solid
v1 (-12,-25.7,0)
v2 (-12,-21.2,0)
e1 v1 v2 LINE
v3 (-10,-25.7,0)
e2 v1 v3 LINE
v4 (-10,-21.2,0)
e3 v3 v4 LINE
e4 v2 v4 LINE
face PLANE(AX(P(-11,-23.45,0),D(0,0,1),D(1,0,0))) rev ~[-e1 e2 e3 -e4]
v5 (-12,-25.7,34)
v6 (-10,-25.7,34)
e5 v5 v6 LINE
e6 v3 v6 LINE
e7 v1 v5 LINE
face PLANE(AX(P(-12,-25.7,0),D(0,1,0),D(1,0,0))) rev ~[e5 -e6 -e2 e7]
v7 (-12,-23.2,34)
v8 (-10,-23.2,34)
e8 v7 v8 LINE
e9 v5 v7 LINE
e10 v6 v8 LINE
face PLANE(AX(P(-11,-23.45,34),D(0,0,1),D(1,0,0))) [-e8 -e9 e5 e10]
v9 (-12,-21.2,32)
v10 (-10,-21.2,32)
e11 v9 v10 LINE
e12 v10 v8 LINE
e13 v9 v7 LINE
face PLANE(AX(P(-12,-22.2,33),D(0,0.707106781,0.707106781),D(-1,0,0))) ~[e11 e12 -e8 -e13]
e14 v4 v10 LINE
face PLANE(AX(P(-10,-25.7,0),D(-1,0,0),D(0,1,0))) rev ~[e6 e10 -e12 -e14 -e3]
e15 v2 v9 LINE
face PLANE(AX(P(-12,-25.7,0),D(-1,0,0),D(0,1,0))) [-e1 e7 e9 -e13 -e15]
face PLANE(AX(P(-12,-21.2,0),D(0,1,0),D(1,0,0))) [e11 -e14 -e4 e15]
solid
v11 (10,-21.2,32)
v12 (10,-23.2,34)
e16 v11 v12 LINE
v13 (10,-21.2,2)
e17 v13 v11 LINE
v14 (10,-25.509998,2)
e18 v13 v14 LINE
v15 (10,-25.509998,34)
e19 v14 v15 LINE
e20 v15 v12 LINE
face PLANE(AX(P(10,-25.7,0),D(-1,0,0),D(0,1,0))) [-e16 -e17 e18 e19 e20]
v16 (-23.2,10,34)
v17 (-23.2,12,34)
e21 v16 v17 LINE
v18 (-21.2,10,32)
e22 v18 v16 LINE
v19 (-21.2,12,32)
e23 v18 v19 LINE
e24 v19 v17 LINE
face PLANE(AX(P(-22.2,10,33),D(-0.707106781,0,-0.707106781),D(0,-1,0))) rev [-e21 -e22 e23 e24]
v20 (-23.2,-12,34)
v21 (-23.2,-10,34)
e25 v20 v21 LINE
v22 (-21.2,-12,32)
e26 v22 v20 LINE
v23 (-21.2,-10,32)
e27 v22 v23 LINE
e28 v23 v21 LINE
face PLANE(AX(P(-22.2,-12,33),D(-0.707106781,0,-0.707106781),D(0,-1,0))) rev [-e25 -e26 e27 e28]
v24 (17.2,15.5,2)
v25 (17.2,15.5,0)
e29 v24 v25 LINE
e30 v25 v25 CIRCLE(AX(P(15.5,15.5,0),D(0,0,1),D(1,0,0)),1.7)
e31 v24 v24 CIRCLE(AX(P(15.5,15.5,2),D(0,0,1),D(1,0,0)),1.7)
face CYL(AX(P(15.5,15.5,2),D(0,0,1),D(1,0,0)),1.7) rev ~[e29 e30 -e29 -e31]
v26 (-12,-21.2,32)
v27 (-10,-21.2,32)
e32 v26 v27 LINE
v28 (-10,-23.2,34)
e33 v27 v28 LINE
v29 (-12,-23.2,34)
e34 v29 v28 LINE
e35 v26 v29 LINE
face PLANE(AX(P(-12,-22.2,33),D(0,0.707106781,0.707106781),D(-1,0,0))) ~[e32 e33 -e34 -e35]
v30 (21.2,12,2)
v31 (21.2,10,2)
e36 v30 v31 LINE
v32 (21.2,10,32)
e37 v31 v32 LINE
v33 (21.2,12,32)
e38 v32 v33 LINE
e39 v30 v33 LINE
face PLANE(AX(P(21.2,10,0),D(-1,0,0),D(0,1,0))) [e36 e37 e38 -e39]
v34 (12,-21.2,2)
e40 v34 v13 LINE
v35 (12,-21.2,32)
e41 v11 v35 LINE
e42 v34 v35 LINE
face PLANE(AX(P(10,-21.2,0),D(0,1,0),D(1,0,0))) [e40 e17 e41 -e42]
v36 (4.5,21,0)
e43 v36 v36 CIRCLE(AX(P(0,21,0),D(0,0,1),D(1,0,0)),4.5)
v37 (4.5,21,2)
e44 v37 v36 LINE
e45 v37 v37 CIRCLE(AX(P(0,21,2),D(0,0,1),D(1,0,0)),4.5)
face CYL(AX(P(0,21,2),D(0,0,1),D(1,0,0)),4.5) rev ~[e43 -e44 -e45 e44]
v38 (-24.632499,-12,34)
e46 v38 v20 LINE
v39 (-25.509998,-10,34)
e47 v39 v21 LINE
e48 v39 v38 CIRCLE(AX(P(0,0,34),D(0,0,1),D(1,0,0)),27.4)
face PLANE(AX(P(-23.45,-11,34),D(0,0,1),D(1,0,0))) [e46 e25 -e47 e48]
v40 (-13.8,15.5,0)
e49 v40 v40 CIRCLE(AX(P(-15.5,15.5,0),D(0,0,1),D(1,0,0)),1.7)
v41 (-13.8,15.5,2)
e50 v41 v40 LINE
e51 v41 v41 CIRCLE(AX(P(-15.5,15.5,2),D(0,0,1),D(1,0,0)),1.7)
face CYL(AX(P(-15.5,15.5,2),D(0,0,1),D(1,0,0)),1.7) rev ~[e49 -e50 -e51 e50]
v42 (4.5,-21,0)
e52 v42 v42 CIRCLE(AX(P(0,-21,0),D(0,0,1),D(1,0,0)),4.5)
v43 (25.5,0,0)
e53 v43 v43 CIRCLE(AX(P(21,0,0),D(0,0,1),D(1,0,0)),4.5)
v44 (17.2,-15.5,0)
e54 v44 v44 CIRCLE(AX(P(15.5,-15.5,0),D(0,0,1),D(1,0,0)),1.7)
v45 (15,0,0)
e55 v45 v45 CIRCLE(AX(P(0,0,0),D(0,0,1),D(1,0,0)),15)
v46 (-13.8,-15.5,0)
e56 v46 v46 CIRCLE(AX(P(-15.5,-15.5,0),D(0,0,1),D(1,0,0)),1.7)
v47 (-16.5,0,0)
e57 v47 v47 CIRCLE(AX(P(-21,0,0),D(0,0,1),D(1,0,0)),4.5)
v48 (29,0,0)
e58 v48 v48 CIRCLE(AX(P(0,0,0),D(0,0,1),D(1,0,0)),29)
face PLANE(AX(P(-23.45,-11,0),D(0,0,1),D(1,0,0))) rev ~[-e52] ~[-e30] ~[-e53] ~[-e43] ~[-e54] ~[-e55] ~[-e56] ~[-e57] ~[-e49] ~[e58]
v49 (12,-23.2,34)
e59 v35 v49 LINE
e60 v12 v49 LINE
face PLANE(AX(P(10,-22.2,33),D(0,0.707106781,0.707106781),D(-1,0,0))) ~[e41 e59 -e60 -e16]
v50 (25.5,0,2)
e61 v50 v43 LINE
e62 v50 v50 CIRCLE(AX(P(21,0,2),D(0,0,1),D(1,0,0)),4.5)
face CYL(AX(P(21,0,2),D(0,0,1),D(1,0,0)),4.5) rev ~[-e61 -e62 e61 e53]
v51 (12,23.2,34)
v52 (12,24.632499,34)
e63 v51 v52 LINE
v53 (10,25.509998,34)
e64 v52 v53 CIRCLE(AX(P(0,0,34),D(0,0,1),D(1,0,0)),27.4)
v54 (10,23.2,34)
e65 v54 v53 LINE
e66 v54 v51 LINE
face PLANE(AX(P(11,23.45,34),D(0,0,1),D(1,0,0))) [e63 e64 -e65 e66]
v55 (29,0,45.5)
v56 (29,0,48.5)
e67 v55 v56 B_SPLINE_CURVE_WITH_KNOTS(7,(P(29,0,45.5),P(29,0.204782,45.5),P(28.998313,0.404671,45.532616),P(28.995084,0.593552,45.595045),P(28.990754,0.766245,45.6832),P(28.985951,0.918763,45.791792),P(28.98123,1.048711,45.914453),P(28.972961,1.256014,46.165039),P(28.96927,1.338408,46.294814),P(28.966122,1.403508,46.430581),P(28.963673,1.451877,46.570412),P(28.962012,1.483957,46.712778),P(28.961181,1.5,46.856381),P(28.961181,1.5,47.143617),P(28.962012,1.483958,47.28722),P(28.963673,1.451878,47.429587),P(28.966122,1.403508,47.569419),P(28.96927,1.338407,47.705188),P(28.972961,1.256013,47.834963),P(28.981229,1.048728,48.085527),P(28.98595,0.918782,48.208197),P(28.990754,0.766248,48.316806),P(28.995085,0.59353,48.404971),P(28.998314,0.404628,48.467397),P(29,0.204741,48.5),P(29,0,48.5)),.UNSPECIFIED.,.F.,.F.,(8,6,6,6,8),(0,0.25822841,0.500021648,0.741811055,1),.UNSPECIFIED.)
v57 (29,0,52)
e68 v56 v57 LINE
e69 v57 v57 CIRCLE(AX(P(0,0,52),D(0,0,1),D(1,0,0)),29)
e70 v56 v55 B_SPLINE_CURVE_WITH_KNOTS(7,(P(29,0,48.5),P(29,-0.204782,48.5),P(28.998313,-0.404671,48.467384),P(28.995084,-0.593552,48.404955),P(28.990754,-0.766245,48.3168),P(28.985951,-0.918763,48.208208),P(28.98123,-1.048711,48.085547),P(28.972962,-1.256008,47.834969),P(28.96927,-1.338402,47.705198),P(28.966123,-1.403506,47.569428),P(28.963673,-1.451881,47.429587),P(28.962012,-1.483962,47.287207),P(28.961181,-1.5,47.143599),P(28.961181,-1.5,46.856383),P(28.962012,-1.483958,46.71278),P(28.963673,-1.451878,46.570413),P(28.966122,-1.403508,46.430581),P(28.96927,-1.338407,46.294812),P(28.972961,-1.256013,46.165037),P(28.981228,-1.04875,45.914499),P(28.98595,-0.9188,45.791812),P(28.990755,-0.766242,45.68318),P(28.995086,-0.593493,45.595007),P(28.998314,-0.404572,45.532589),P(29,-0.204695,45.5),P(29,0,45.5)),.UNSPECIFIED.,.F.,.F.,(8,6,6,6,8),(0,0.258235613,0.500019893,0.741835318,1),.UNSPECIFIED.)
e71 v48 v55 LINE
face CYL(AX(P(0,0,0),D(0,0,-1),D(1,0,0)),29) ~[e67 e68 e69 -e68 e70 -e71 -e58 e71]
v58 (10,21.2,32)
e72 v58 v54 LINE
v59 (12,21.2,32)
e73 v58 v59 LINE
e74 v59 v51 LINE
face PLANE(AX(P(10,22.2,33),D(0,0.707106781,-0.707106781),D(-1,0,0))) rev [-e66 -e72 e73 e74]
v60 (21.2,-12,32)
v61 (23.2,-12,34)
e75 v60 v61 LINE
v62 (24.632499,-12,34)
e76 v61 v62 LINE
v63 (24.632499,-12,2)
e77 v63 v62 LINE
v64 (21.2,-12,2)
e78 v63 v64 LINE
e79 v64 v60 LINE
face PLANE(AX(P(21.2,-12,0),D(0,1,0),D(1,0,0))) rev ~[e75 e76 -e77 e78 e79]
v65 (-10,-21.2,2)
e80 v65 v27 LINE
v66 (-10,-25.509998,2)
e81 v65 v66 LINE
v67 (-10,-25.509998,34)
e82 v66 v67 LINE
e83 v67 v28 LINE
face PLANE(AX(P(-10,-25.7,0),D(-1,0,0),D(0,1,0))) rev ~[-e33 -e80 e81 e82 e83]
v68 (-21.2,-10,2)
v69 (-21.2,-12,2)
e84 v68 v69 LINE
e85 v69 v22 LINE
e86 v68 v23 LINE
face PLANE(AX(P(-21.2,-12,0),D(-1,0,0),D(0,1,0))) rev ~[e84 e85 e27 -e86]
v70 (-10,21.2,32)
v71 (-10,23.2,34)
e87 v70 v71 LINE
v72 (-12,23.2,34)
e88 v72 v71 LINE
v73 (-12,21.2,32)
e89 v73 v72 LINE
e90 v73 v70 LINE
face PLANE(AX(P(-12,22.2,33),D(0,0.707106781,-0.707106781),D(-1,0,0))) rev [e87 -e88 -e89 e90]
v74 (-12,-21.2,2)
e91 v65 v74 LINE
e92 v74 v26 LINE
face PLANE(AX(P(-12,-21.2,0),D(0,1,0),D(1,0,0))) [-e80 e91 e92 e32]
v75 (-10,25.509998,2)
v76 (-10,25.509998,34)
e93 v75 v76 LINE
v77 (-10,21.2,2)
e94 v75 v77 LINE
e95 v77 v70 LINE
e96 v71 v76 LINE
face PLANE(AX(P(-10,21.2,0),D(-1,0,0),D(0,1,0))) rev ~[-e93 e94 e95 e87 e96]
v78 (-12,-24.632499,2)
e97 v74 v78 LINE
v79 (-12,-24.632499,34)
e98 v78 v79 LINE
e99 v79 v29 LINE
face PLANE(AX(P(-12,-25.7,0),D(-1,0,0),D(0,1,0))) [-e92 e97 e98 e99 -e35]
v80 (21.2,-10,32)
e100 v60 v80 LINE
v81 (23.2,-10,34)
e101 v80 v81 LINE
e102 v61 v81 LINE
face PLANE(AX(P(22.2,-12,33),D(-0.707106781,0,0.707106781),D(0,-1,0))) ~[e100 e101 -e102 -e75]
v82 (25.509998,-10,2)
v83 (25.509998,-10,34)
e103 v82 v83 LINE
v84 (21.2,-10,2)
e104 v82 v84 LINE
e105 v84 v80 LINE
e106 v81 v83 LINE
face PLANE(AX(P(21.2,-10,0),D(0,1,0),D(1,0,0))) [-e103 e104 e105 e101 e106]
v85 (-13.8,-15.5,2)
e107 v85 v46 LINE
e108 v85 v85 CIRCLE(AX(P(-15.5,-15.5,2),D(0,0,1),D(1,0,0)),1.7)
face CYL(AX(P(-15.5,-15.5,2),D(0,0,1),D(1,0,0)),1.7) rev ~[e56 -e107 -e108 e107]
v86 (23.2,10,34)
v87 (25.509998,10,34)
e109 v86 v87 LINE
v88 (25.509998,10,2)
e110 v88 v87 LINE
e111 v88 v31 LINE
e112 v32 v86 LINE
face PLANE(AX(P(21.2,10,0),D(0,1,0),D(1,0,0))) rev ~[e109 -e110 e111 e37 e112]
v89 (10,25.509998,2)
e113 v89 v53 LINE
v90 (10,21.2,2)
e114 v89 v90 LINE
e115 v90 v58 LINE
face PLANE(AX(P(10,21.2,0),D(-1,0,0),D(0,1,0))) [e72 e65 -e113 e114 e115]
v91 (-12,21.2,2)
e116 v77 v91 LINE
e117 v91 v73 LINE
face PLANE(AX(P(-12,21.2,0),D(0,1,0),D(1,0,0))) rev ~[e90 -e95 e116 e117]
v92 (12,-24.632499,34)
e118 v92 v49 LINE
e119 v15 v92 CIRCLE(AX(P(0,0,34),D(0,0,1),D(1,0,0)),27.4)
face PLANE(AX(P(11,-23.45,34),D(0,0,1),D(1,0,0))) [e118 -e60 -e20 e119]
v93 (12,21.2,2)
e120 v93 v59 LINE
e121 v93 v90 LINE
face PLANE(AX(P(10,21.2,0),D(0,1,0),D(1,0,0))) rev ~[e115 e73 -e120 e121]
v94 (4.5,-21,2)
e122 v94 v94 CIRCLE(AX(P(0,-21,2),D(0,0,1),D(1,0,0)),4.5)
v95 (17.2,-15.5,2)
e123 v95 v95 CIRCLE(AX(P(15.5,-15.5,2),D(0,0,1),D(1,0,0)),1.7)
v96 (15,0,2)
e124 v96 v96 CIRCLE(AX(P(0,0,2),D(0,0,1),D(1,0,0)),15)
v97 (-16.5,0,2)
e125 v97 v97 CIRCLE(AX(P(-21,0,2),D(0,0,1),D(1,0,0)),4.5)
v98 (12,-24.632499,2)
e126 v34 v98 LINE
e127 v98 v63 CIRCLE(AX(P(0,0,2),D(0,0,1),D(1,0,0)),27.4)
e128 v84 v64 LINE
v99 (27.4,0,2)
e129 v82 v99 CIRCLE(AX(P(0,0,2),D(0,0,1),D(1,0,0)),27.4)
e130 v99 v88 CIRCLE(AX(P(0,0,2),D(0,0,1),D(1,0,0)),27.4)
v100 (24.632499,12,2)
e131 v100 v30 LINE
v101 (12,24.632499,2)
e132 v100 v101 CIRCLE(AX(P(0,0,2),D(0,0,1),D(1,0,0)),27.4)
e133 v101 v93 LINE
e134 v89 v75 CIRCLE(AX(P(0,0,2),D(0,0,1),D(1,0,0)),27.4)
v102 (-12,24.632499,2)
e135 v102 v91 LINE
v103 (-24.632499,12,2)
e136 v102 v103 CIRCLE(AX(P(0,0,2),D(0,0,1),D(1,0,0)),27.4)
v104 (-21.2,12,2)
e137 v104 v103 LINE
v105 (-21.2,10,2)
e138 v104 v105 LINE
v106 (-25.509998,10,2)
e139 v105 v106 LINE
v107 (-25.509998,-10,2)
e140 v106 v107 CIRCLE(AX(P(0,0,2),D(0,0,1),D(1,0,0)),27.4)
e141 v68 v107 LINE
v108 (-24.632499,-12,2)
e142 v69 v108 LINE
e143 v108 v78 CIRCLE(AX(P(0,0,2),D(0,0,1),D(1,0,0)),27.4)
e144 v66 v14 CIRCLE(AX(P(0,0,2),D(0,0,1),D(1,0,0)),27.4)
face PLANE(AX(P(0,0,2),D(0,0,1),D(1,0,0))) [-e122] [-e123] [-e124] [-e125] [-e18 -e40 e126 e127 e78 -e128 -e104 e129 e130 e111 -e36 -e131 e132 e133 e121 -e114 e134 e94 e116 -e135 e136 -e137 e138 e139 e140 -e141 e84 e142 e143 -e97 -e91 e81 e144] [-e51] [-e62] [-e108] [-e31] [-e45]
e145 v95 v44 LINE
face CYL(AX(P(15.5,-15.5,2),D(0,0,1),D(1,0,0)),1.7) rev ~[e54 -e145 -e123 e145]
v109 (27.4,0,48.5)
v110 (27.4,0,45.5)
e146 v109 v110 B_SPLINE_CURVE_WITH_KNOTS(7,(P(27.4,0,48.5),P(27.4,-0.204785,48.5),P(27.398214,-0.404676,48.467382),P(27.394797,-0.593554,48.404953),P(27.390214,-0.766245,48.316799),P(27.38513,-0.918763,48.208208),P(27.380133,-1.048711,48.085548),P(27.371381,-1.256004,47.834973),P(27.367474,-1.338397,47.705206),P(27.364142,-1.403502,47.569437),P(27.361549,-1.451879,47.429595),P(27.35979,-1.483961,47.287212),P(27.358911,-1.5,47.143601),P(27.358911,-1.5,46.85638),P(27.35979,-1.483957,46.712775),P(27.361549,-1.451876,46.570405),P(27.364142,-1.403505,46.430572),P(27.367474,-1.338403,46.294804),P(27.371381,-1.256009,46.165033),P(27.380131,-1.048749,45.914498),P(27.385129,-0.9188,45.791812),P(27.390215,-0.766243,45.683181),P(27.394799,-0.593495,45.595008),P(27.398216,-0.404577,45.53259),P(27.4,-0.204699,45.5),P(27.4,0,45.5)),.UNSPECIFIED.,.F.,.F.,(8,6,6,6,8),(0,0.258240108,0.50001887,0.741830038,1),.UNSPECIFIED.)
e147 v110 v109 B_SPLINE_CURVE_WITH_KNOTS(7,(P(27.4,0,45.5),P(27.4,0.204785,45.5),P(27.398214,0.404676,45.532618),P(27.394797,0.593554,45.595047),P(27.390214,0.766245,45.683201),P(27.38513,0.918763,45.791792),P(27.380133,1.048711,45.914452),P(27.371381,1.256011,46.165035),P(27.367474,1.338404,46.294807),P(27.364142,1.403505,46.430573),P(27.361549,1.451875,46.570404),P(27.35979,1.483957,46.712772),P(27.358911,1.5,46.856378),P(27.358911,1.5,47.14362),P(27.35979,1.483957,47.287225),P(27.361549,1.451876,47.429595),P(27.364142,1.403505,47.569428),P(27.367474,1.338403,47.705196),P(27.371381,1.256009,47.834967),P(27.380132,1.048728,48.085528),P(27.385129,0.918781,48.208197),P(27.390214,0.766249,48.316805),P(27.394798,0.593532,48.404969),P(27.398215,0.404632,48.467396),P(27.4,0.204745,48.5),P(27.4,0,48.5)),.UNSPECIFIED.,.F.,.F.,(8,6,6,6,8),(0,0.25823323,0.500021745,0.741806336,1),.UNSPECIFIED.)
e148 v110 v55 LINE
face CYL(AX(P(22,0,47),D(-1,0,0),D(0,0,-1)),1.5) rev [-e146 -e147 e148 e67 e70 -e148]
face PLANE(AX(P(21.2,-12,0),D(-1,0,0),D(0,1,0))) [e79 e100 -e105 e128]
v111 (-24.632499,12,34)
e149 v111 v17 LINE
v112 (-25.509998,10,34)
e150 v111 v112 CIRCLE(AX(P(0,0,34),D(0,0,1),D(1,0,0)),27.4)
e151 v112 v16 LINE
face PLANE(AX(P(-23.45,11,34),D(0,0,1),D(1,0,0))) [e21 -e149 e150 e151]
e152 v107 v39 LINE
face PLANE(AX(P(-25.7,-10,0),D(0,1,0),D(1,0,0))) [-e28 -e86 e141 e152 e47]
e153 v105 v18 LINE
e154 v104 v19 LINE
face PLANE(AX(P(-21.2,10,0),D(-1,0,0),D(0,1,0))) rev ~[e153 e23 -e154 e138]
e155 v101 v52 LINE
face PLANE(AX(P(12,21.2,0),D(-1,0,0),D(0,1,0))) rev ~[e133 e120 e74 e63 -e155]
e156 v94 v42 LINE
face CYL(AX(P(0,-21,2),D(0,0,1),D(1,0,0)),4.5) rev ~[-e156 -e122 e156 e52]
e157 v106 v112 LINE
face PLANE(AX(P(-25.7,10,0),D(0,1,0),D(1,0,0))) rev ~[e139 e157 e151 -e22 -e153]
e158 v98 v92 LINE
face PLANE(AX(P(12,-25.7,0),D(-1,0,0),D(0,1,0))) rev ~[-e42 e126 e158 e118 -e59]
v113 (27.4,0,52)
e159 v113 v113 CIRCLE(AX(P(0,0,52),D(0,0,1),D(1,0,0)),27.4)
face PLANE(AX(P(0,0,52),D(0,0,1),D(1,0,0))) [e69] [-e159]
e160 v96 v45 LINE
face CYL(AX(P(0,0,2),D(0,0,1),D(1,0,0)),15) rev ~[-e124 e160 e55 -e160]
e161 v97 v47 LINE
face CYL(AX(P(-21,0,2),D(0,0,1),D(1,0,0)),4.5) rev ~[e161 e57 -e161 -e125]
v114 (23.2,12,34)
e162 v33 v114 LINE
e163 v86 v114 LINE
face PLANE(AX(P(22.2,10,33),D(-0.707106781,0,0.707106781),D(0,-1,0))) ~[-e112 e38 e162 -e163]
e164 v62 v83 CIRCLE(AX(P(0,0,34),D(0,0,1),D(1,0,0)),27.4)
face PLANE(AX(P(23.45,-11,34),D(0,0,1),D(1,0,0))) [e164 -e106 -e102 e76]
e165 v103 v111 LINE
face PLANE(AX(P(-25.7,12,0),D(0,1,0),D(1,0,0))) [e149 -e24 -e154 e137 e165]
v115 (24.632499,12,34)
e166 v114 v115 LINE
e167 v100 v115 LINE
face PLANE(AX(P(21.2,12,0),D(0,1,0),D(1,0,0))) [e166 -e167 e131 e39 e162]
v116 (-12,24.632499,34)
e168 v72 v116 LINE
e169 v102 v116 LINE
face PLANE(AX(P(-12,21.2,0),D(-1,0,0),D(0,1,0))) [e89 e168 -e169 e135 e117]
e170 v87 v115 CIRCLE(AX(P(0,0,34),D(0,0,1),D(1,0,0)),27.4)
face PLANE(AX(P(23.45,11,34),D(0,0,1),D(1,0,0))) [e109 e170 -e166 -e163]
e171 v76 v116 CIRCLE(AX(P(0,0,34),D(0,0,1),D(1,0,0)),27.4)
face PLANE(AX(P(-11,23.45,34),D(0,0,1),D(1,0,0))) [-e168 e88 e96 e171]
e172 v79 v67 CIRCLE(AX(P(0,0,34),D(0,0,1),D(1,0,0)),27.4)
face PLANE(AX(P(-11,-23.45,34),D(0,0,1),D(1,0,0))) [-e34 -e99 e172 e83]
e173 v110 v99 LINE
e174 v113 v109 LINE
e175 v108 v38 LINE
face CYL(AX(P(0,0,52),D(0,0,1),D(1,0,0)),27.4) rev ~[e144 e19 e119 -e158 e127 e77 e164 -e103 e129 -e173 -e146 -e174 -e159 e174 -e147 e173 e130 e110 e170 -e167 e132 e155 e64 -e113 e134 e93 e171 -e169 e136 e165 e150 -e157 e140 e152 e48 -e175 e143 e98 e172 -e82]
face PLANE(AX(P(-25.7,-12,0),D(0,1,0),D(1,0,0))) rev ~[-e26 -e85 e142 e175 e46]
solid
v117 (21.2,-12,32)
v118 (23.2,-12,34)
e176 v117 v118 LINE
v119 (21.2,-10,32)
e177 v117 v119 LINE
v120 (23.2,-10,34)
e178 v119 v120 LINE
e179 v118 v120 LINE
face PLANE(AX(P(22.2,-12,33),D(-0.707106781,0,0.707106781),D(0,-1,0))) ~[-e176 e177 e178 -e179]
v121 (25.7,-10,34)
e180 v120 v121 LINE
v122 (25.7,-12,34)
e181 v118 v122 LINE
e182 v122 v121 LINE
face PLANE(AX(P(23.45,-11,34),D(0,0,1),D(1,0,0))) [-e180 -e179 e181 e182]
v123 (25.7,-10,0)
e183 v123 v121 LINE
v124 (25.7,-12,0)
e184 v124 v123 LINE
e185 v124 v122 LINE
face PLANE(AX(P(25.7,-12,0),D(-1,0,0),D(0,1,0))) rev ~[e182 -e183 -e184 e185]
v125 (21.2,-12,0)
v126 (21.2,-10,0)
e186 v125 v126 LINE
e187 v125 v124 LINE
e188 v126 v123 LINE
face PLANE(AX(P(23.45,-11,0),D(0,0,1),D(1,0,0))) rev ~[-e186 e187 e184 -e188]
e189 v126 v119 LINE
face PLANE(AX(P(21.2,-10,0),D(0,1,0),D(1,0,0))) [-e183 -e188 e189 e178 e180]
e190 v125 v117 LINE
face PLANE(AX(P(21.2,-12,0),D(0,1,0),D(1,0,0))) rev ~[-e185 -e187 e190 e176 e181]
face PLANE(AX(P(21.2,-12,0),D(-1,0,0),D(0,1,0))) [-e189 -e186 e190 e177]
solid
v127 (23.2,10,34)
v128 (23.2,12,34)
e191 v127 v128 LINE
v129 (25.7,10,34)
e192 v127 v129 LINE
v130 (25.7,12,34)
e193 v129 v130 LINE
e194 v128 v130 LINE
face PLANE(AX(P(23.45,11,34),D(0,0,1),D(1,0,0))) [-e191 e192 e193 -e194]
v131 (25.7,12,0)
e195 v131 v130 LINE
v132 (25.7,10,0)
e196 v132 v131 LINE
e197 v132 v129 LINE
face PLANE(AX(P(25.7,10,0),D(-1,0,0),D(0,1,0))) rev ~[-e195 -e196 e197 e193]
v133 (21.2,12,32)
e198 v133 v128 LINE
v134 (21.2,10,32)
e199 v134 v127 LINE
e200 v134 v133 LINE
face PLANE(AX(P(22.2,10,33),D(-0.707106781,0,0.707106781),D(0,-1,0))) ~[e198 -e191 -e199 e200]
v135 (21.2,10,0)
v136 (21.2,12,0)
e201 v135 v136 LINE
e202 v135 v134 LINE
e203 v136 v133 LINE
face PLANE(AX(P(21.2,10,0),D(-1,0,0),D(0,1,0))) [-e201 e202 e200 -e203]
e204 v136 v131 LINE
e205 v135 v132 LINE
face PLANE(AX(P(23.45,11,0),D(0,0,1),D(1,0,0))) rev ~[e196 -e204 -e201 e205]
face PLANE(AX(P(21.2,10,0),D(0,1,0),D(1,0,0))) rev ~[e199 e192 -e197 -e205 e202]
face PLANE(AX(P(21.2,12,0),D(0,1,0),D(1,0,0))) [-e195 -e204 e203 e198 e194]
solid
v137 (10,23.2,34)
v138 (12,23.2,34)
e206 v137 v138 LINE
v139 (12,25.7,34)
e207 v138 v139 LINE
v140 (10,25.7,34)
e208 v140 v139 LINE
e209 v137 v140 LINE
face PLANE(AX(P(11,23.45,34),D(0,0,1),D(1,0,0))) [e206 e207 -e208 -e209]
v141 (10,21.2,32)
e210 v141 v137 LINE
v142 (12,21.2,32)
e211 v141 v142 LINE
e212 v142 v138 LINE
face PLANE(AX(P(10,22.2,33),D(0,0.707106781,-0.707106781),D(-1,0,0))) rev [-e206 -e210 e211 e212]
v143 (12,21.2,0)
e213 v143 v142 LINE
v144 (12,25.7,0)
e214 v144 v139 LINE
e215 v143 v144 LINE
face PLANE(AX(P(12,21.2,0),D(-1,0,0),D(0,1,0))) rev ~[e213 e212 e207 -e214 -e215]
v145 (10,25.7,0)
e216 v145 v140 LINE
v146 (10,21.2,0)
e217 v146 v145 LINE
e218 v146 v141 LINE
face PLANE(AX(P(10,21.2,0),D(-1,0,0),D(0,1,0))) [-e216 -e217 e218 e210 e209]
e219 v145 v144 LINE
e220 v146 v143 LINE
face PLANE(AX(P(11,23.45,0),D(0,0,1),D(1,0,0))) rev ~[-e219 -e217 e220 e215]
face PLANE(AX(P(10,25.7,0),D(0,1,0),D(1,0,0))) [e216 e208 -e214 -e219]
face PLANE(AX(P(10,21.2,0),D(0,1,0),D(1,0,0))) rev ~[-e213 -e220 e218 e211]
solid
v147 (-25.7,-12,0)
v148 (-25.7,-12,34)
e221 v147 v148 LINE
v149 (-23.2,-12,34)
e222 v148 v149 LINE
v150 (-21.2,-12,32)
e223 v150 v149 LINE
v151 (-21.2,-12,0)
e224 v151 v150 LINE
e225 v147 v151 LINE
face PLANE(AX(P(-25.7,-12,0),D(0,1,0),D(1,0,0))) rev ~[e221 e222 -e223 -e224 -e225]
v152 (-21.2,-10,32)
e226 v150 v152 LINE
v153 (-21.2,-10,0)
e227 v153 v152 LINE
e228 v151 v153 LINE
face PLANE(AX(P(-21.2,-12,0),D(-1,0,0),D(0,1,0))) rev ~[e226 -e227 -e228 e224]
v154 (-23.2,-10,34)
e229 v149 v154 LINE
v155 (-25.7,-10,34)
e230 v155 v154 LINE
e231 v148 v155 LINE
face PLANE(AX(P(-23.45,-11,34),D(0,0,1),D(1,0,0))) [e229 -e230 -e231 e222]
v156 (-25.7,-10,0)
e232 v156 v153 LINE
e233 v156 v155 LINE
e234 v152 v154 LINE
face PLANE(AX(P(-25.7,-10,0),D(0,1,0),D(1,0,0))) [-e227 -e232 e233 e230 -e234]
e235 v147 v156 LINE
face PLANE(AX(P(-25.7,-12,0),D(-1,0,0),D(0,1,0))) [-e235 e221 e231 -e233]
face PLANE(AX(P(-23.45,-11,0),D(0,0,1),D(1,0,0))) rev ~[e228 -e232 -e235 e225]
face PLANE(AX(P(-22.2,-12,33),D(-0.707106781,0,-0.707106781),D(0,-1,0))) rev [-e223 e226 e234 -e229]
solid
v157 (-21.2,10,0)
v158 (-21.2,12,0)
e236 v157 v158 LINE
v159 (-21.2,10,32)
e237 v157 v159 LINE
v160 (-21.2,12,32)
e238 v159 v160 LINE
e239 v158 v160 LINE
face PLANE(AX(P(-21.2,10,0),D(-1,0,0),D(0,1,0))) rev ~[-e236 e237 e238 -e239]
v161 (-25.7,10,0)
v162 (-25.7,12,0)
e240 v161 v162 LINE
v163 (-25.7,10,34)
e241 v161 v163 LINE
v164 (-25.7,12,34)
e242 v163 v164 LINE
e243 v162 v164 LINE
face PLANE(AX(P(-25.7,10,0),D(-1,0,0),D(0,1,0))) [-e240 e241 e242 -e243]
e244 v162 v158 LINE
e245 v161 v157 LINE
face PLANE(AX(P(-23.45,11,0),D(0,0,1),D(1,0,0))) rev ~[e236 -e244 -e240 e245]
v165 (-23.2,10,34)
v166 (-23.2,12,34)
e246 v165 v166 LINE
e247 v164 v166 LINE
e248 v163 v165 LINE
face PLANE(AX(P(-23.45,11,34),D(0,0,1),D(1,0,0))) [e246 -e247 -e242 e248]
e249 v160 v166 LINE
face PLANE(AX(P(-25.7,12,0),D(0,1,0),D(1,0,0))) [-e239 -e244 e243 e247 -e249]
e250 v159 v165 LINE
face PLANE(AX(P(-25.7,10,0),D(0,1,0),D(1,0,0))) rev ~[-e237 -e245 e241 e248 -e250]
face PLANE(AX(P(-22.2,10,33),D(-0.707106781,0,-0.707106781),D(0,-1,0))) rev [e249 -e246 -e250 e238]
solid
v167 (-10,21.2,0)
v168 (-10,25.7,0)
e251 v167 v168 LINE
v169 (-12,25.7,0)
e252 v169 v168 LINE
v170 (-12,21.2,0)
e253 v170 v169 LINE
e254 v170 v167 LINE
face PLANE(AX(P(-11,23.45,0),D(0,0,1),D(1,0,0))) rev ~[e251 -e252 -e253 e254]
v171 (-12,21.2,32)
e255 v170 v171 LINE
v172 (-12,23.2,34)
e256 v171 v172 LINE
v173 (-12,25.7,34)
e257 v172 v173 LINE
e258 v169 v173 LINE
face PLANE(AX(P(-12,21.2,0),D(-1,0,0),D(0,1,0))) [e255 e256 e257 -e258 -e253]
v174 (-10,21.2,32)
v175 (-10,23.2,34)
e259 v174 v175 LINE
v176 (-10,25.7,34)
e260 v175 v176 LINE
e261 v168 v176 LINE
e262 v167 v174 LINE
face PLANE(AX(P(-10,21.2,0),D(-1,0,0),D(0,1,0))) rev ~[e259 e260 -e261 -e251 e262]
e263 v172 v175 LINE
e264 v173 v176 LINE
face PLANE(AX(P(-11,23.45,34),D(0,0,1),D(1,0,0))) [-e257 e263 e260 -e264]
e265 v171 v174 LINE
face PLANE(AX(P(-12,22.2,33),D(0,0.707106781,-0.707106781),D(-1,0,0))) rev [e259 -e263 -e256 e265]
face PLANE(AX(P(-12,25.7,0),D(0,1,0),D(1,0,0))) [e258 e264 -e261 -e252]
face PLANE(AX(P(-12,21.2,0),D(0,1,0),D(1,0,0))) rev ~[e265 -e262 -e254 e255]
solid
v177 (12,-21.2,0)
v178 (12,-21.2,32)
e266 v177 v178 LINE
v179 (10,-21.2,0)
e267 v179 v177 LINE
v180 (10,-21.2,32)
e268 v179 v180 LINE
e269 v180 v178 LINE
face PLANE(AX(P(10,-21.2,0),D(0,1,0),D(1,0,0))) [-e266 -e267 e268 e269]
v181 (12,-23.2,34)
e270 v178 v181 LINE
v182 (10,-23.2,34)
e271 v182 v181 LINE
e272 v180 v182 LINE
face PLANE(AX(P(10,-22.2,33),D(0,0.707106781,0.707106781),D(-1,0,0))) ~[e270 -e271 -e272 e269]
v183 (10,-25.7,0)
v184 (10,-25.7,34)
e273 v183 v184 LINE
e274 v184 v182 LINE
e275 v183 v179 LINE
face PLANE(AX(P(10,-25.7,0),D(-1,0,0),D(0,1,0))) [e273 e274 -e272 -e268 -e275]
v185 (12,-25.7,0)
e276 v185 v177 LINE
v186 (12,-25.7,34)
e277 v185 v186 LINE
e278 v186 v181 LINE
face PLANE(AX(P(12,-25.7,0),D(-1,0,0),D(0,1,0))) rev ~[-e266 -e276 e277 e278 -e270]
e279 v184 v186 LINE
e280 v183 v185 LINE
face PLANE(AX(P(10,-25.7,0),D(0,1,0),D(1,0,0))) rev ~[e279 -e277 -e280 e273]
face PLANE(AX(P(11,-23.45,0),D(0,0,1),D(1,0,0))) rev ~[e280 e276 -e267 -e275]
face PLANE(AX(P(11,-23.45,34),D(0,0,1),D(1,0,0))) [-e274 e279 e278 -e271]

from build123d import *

# Parameters (mm, degrees)
SKETCH002_W             = 2
SKETCH002_H             = 4.5
SKETCH002_W_2           = 4.5
SKETCH002_H_2           = 2
PAD_DEPTH               = 34
CHAMFER_SIZE            = 2
CYLINDER001_R           = 1.5
CYLINDER001_DEPTH       = 10
CYLINDER001_PITCH_ANGLE = 90
CHAMFER001_SIZE         = 2
CYLINDER_R              = 29
CYLINDER_DEPTH          = 52
SKETCH_R                = 27.4
POCKET_DEPTH            = 50
SKETCH001_R             = 1.7
SKETCH001_R_2           = 15
SKETCH001_R_3           = 4.5
POCKET001_DEPTH         = 2.001


with BuildPart() as pad:
    # Sketch002 → Pad (new body)
    with BuildSketch(Plane.XY):
        with Locations((-11, 23.45)):
            Rectangle(SKETCH002_W, SKETCH002_H)
        with Locations((11, 23.45)):
            Rectangle(SKETCH002_W, SKETCH002_H)
        with Locations((-11, -23.45)):
            Rectangle(SKETCH002_W, SKETCH002_H)
        with Locations((11, -23.45)):
            Rectangle(SKETCH002_W, SKETCH002_H)
        with Locations((23.45, 11)):
            Rectangle(SKETCH002_W_2, SKETCH002_H_2)
        with Locations((23.45, -11)):
            Rectangle(SKETCH002_W_2, SKETCH002_H_2)
        with Locations((-23.45, 11)):
            Rectangle(SKETCH002_W_2, SKETCH002_H_2)
        with Locations((-23.45, -11)):
            Rectangle(SKETCH002_W_2, SKETCH002_H_2)
    extrude(amount=PAD_DEPTH)


with BuildPart() as chamfer_body:
    # Chamfer base: copy of Pad
    add(pad.part)

    # Chamfer
    chamfer_edges = [chamfer_body.edges().sort_by_distance(p)[0] for p in [
        (-21.2, -11, 34),
        (-11, -21.2, 34),
        (11, -21.2, 34),
        (21.2, -11, 34),
        (21.2, 11, 34),
        (11, 21.2, 34),
        (-11, 21.2, 34),
        (-21.2, 11, 34),
    ]]
    chamfer(chamfer_edges, length=CHAMFER_SIZE)


with BuildPart() as cylinder001:
    # Cylinder001 → Cylinder001 (new body)
    with BuildSketch(Plane.XY):
        Circle(CYLINDER001_R)
    extrude(amount=CYLINDER001_DEPTH)


with BuildPart() as cylinder001_1:
    # Cylinder001 pitch: moved
    add(cylinder001.part.rotate(Axis((0, 0, 0), (0, 1, 0)), CYLINDER001_PITCH_ANGLE))


with BuildPart() as cylinder001_2:
    # Cylinder001 placement: moved
    add(cylinder001_1.part.moved(Location((22, 0, 47))))


with BuildPart() as chamfer001:
    # Chamfer001 base: copy of Pad
    add(pad.part)

    # Chamfer001
    chamfer001_edges = [chamfer001.edges().sort_by_distance(p)[0] for p in [
        (-21.2, -11, 34),
        (-11, -21.2, 34),
        (11, -21.2, 34),
        (21.2, -11, 34),
        (21.2, 11, 34),
        (11, 21.2, 34),
        (-11, 21.2, 34),
        (-21.2, 11, 34),
    ]]
    chamfer(chamfer001_edges, length=CHAMFER001_SIZE)


with BuildPart() as cut:
    # Cylinder → Cylinder (new body)
    with BuildSketch(Plane.XY):
        Circle(CYLINDER_R)
    extrude(amount=CYLINDER_DEPTH)

    # Sketch → Pocket (cut)
    with BuildSketch(Plane.XY.offset(52)):
        Circle(SKETCH_R)
    extrude(amount=-POCKET_DEPTH, mode=Mode.SUBTRACT)

    # Sketch001 → Pocket001 (cut, through all)
    with BuildSketch(Plane.XY.offset(2)):
        with Locations((-15.5, 15.5)):
            Circle(SKETCH001_R)
        with Locations((15.5, 15.5)):
            Circle(SKETCH001_R)
        with Locations((-15.5, -15.5)):
            Circle(SKETCH001_R)
        with Locations((15.5, -15.5)):
            Circle(SKETCH001_R)
        Circle(SKETCH001_R_2)
        with Locations((-21, 0)):
            Circle(SKETCH001_R_3)
        with Locations((21, 0)):
            Circle(SKETCH001_R_3)
        with Locations((0, 21)):
            Circle(SKETCH001_R_3)
        with Locations((0, -21)):
            Circle(SKETCH001_R_3)
    extrude(amount=-POCKET001_DEPTH, mode=Mode.SUBTRACT)

    # Fusion: union Chamfer001
    add(chamfer001.part)

    # Cut: cut Cylinder001
    add(cylinder001_2.part, mode=Mode.SUBTRACT)


solid = Compound([chamfer_body.part, cut.part])
